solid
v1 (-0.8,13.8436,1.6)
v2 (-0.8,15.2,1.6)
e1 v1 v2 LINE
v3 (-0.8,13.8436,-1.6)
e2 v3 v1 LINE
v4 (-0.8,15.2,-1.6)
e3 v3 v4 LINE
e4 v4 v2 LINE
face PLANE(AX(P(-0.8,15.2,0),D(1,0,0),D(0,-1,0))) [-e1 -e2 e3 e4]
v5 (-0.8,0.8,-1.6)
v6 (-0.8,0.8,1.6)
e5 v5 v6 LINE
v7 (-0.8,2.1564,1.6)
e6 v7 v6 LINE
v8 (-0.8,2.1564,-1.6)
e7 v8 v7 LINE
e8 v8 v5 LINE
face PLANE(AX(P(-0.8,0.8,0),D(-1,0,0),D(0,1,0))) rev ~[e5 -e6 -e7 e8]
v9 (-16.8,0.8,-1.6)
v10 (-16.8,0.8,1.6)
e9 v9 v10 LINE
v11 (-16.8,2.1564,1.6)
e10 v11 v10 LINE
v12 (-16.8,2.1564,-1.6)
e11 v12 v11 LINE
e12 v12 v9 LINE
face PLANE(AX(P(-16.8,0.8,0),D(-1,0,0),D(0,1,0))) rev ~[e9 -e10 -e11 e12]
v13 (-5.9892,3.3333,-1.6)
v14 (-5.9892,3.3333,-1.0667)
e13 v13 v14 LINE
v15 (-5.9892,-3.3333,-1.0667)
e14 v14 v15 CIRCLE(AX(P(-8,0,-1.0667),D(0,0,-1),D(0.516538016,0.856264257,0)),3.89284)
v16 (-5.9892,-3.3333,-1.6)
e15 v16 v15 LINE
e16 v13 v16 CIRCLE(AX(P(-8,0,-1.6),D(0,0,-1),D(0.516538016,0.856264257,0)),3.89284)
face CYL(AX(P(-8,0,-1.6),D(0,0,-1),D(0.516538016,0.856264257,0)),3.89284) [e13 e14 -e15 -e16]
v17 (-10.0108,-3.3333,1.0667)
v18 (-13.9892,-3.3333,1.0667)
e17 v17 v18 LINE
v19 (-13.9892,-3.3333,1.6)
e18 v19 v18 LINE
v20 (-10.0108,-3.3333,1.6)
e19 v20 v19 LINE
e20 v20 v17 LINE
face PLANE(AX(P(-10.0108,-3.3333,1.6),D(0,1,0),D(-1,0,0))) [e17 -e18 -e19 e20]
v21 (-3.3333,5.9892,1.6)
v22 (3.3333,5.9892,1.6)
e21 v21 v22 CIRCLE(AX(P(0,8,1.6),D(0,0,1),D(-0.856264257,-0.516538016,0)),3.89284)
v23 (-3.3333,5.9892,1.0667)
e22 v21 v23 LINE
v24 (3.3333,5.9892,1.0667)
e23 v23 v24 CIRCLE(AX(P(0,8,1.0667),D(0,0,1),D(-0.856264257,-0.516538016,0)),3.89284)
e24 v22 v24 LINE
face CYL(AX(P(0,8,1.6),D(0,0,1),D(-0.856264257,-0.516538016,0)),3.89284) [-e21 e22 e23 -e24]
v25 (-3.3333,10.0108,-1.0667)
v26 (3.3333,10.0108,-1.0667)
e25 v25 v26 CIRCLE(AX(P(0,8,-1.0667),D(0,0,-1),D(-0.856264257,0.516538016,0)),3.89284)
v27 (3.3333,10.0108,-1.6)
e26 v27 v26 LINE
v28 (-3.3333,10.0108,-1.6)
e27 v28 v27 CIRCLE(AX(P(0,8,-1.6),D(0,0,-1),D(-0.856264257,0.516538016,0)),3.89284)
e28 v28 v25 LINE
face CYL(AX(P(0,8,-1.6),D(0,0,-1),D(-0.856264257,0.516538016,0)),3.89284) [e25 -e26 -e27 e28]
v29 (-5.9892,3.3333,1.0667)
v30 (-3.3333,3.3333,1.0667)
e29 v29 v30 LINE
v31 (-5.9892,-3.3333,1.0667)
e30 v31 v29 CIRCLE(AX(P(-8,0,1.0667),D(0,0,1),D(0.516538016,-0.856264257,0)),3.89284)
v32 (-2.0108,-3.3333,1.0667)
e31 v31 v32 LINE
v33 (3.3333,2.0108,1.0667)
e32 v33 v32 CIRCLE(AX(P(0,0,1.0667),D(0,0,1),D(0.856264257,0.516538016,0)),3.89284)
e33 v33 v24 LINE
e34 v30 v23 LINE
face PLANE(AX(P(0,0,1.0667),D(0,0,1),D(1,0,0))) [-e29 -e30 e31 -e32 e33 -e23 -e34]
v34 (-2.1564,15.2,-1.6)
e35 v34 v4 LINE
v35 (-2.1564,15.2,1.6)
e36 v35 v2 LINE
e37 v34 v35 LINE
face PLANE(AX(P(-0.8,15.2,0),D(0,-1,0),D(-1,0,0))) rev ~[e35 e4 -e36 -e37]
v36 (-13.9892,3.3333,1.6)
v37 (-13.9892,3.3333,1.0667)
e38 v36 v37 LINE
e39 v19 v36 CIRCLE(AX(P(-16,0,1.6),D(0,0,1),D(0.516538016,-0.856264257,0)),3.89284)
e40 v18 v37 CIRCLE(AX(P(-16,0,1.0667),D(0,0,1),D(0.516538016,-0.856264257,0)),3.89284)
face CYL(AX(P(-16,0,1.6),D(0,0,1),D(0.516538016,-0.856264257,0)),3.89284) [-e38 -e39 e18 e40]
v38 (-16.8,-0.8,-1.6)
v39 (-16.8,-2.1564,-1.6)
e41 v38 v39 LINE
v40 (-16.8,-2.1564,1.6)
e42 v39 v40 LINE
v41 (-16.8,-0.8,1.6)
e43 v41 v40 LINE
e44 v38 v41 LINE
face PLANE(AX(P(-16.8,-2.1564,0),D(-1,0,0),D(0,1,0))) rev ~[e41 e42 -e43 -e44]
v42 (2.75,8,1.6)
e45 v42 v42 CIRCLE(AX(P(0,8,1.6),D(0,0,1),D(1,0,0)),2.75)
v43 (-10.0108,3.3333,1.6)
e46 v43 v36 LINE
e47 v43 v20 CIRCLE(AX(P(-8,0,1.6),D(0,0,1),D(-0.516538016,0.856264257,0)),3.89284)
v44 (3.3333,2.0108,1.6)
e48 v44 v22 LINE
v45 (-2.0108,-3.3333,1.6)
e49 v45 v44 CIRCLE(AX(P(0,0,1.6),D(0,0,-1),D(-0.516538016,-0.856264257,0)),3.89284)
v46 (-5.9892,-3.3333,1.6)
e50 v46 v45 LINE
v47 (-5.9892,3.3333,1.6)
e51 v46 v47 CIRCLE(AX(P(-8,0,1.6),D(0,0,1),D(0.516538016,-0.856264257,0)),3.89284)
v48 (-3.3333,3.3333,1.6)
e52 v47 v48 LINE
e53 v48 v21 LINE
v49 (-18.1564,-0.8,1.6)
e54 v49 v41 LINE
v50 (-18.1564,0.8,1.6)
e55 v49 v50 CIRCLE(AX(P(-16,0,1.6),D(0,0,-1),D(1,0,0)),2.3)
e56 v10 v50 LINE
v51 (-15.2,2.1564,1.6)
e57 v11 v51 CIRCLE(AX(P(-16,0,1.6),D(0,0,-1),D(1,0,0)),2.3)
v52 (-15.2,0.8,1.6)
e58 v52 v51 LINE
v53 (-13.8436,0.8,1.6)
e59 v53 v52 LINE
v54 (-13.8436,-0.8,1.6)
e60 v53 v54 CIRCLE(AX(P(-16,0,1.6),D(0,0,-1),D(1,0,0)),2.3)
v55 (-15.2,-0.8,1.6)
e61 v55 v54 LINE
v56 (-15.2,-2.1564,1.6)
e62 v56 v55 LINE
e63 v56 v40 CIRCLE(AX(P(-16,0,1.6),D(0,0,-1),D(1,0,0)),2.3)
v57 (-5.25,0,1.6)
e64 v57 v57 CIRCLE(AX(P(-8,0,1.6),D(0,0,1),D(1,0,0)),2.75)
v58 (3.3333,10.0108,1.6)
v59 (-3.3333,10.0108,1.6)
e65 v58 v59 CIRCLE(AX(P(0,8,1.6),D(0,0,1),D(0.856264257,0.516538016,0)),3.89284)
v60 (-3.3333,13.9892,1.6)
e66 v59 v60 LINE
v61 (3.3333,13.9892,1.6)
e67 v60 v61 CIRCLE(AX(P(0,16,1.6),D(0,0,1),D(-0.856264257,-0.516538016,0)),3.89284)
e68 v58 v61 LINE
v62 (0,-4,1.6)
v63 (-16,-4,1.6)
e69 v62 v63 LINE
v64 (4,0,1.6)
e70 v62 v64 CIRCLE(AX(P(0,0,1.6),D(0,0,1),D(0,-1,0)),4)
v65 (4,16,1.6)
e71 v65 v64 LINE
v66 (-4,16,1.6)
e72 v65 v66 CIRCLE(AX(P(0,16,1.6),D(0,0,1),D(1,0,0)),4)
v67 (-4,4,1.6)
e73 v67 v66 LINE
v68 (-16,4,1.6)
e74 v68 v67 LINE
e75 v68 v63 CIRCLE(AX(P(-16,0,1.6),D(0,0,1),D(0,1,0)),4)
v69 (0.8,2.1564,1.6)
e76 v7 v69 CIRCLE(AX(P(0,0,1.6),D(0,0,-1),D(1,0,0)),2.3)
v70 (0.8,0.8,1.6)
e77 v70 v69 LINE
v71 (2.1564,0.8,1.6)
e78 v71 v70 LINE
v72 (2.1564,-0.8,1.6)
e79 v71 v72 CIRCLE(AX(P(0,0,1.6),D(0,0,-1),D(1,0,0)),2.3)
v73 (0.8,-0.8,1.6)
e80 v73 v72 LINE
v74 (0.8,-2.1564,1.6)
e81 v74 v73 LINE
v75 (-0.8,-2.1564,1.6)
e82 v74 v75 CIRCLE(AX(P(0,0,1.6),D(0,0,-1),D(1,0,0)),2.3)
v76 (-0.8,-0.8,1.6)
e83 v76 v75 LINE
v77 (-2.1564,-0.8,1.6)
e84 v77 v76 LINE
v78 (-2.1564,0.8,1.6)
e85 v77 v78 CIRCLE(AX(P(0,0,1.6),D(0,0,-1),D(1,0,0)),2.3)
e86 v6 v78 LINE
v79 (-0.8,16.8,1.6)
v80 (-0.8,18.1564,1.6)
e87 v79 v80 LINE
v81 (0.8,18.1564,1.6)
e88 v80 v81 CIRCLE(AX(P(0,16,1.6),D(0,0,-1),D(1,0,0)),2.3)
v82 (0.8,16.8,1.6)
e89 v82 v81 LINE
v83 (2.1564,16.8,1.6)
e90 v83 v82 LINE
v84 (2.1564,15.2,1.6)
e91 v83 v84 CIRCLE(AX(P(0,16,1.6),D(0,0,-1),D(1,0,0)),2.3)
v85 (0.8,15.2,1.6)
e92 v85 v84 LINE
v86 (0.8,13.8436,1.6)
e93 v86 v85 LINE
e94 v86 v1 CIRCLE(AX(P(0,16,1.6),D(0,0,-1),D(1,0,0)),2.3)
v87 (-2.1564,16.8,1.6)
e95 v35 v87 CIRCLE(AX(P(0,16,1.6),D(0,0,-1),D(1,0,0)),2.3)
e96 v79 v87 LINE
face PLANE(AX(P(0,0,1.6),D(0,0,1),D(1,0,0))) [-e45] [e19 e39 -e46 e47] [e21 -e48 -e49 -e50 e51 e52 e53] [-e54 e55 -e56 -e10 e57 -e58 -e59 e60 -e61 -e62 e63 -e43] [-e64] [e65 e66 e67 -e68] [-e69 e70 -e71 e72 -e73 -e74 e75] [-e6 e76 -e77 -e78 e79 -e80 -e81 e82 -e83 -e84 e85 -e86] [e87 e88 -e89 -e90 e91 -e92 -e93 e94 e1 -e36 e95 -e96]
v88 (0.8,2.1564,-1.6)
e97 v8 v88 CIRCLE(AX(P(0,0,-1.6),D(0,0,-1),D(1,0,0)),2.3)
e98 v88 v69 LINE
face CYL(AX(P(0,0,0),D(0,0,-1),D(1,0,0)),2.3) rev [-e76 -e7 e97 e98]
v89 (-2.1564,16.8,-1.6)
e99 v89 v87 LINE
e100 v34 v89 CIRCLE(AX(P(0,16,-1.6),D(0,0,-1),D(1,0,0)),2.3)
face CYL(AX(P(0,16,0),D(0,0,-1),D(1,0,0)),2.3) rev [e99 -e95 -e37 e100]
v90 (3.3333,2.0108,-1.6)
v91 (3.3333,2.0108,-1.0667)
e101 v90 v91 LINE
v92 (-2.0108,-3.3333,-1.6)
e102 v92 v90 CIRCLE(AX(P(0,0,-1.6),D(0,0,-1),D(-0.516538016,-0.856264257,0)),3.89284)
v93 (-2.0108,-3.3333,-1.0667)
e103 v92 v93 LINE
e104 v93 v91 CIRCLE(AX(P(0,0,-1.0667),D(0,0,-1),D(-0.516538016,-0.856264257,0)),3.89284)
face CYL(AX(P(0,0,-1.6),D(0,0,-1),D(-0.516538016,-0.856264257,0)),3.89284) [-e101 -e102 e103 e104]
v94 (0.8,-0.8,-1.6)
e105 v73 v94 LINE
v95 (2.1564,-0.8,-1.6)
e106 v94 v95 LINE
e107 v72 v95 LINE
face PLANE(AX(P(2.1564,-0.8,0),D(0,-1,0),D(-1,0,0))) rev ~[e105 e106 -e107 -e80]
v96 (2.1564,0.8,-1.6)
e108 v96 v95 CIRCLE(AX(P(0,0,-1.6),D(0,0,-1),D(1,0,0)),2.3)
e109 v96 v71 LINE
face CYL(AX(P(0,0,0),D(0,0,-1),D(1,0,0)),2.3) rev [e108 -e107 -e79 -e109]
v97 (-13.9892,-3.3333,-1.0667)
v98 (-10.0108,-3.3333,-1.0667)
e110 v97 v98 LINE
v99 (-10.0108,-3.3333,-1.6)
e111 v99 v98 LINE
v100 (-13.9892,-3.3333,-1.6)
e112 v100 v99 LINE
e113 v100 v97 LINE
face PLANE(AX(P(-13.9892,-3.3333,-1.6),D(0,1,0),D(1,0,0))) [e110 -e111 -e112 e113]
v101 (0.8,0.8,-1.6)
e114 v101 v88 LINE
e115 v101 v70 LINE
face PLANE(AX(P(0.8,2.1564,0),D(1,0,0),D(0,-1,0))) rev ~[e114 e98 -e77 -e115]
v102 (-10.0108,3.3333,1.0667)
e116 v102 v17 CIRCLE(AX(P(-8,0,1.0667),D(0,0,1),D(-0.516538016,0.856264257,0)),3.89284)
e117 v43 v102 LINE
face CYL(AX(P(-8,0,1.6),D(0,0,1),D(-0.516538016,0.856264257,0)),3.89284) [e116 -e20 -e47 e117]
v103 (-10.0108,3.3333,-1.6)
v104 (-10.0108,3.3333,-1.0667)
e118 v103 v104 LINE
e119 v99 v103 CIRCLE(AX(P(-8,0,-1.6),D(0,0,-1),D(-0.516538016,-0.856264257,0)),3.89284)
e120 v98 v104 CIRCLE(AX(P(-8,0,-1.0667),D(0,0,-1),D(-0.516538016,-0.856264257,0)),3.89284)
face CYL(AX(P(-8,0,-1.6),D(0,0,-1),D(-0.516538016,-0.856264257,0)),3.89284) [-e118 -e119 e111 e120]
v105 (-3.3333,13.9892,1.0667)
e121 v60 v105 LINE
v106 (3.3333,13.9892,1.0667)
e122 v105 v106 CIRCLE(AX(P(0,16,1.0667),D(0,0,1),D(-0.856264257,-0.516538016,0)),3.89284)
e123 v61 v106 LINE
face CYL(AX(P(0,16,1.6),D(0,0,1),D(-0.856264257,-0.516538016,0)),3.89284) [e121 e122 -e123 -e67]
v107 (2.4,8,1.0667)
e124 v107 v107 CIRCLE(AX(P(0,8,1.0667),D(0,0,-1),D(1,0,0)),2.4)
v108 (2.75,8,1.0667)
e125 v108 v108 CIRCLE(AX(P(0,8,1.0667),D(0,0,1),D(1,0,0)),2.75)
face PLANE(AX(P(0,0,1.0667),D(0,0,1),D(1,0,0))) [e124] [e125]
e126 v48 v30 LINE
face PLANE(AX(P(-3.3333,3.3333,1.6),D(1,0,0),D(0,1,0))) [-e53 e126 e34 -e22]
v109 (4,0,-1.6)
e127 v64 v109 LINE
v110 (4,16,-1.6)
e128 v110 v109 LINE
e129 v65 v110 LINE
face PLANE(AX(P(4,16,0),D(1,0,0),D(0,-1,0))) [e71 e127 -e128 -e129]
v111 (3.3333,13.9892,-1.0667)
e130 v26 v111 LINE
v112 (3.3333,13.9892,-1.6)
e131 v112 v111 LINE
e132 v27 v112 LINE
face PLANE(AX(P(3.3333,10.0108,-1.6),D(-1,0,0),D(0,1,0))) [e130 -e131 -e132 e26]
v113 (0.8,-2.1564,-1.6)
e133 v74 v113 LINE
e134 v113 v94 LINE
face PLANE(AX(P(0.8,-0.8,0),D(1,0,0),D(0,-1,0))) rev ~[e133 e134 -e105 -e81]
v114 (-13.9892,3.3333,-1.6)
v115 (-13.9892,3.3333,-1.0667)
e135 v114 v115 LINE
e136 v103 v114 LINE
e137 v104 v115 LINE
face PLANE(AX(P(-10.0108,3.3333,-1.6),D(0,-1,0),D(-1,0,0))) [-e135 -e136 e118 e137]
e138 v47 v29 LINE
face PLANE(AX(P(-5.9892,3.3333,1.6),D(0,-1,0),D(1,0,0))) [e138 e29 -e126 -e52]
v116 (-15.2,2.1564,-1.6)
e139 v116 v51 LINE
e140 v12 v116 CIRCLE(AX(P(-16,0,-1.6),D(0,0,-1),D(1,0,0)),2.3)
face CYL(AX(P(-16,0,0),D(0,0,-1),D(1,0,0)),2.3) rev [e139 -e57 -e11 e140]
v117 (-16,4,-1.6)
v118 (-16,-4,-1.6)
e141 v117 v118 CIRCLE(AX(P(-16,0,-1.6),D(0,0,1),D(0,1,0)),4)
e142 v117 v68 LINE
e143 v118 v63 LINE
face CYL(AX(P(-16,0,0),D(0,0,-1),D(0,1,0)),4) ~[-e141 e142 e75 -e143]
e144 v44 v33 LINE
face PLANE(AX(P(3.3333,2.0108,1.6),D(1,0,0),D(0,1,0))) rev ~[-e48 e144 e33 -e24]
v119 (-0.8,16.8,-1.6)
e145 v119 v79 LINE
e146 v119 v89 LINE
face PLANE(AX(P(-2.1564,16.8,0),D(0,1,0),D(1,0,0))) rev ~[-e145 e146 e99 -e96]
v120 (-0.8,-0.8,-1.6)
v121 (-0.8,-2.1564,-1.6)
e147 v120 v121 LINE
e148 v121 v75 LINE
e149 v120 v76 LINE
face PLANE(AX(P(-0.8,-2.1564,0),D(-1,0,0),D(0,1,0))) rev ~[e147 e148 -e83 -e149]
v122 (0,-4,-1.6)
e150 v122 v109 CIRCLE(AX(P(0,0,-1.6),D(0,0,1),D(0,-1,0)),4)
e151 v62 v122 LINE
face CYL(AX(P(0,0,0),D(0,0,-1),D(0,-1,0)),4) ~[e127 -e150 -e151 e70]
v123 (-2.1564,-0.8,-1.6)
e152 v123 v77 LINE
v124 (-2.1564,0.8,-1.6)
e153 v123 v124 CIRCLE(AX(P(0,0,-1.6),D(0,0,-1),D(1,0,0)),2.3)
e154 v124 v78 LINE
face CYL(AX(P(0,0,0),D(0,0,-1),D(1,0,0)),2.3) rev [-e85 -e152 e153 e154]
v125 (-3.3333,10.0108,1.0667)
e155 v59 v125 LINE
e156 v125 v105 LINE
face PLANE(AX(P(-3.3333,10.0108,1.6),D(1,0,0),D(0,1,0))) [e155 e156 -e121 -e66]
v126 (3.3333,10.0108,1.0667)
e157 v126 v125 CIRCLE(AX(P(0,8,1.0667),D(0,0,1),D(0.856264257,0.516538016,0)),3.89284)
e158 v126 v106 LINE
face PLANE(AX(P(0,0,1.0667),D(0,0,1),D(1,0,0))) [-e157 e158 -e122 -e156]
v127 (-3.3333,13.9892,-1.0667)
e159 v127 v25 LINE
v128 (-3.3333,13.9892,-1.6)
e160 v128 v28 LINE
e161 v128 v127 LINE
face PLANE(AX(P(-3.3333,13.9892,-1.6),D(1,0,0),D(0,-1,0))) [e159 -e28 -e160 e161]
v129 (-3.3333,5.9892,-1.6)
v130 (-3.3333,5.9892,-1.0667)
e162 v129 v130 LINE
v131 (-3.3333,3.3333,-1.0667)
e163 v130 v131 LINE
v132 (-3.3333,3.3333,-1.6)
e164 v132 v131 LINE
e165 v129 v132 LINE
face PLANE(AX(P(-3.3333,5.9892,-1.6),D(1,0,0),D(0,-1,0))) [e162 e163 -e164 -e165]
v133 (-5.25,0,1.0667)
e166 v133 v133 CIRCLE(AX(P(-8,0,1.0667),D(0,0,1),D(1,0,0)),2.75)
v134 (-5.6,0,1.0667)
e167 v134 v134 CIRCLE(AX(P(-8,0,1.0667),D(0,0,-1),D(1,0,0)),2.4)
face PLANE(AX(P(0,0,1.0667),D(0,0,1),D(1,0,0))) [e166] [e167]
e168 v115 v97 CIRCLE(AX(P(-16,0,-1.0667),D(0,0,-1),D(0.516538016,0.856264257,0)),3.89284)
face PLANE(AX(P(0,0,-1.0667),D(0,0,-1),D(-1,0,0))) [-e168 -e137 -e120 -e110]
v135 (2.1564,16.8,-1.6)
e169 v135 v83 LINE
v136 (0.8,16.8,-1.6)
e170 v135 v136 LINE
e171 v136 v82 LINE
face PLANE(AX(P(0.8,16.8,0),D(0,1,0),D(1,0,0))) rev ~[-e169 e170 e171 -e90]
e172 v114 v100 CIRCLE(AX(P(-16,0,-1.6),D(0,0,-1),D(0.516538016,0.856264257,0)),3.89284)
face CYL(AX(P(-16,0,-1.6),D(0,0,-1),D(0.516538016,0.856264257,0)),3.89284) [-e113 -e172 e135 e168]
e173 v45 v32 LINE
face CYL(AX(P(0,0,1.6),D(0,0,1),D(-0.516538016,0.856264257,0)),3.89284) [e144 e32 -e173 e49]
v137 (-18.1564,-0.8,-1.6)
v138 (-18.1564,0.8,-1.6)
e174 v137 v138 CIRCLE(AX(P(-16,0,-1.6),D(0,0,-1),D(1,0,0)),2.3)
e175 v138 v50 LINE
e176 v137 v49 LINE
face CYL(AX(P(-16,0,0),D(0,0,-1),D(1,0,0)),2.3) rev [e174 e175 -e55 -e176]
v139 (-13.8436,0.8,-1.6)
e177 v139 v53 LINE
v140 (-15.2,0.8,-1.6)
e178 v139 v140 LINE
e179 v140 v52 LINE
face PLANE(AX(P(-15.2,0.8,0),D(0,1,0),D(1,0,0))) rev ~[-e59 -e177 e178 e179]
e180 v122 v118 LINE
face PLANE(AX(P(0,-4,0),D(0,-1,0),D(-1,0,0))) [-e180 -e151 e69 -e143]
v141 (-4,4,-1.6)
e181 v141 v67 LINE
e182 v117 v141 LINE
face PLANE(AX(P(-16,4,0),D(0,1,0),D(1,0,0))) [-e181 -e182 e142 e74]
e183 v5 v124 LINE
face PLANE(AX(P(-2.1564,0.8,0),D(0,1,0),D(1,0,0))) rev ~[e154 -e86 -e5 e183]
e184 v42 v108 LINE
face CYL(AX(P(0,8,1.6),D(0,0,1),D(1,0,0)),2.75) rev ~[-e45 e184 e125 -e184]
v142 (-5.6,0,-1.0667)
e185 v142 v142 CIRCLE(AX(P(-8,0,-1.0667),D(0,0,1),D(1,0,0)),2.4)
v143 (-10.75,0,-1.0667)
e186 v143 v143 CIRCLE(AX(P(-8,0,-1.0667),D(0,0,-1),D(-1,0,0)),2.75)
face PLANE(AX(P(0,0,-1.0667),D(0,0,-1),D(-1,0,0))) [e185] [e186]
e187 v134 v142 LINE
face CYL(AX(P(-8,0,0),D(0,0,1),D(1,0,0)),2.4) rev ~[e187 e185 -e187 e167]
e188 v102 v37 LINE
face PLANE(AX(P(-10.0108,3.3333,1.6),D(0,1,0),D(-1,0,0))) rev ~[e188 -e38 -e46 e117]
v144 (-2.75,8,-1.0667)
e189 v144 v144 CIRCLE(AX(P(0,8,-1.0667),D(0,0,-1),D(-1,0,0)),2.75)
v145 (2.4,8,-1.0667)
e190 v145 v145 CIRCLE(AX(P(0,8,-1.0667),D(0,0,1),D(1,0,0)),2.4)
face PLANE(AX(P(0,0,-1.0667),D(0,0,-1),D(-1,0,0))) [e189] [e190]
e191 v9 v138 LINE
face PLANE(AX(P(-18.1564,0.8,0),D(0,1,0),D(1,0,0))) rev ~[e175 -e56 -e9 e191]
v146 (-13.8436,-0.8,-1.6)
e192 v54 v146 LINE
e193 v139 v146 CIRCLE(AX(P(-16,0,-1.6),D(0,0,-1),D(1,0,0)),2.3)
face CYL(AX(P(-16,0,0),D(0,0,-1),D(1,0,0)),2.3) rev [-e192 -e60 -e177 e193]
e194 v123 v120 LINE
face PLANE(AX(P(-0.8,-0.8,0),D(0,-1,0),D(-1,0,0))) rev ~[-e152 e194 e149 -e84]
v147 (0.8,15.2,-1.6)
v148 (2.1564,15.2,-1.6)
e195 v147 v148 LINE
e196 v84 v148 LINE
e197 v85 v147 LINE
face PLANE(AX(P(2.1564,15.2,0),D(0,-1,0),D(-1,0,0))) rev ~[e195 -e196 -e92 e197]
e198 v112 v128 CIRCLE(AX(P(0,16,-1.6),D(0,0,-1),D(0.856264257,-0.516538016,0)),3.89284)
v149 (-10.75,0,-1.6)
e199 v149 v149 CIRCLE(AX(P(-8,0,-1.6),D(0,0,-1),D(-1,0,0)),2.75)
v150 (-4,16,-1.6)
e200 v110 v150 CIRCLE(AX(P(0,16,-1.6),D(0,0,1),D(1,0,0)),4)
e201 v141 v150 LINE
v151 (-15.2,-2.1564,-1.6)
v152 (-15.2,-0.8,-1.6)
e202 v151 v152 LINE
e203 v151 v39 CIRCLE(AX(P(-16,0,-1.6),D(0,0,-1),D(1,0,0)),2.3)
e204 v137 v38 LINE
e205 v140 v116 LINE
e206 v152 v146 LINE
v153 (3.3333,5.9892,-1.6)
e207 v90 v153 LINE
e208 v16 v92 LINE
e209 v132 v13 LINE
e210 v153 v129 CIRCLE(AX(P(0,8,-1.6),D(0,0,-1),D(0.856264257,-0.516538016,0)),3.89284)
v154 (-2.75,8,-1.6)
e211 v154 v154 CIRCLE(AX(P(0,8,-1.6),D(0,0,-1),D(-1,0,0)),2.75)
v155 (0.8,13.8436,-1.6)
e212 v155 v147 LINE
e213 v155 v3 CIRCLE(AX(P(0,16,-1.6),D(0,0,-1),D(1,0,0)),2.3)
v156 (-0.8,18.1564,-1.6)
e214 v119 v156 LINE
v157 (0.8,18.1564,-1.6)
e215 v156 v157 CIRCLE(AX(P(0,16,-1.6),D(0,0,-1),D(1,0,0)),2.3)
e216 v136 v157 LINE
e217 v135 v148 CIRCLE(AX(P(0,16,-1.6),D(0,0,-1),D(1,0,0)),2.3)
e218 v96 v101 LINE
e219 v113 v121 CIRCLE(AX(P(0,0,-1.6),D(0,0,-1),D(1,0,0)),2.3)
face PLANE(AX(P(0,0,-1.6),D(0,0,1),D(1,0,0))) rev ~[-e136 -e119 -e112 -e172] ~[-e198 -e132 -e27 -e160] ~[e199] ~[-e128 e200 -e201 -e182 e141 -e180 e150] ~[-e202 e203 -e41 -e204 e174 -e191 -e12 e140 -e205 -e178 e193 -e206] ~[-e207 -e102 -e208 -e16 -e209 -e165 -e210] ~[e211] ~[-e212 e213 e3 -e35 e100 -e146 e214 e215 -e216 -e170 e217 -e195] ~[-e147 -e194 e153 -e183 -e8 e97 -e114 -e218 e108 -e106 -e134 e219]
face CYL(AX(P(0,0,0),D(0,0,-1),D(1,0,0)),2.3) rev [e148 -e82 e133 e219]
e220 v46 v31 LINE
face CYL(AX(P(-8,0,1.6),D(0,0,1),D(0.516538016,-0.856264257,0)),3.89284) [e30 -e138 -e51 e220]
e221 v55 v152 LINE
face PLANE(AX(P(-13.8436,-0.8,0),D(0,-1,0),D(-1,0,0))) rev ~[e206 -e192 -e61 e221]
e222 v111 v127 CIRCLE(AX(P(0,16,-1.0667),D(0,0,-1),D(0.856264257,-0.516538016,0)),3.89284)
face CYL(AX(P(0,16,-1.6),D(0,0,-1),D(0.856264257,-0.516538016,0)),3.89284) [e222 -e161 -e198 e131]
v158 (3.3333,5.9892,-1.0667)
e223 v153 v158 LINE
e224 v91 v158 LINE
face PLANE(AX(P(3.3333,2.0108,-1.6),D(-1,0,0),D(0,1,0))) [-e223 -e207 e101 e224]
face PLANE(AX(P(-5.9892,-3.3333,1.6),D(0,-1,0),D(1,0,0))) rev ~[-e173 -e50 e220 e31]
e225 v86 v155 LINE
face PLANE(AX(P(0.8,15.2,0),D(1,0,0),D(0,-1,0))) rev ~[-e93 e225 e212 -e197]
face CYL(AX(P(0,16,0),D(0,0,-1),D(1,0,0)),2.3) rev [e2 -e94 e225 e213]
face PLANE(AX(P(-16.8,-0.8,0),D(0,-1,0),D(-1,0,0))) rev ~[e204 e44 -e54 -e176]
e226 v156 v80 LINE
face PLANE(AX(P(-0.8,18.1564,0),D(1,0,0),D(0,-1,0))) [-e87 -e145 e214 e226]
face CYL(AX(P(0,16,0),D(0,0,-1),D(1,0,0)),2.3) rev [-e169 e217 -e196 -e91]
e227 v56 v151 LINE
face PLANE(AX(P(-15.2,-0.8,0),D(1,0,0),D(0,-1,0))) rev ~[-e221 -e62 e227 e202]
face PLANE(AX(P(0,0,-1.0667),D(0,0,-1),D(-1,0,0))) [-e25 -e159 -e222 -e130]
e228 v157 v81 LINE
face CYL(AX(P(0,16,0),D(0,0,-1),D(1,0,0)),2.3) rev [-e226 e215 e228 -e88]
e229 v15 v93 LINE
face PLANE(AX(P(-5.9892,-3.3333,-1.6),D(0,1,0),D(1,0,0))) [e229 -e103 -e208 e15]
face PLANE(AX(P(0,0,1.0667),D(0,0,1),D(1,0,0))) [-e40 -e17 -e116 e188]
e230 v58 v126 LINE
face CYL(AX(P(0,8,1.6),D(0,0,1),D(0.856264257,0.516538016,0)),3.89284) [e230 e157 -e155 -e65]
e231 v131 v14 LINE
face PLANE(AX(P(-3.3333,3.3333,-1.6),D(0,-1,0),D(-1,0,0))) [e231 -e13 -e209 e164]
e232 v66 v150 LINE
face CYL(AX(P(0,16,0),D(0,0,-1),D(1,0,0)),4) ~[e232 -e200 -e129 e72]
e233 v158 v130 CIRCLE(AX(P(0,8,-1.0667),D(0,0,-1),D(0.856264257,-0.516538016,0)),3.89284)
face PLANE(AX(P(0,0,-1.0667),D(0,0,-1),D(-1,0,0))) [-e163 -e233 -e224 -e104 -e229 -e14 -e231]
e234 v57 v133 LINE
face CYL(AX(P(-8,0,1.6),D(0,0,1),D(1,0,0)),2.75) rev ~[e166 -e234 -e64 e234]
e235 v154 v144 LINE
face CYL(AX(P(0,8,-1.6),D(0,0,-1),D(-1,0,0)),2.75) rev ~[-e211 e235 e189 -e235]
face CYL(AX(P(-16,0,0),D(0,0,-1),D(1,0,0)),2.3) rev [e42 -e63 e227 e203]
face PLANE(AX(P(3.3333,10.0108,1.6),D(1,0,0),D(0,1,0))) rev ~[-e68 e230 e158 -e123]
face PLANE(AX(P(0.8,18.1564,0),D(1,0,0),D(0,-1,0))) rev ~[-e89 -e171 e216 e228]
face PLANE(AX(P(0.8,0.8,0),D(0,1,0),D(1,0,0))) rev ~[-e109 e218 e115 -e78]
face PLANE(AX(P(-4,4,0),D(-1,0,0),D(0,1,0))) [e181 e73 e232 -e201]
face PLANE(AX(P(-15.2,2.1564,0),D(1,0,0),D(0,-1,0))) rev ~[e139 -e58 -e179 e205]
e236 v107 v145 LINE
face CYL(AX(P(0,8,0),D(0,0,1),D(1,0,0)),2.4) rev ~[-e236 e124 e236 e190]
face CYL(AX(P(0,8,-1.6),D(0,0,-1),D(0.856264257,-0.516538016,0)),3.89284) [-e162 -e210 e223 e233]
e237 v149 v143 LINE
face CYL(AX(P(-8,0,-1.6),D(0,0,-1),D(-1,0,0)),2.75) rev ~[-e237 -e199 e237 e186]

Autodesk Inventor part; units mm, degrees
ref_plane "YZ Plane" through (0, 0, 0) normal (1, 0, 0) x (0, 1, 0)
ref_plane "XZ Plane" through (0, 0, 0) normal (0, 1, 0) x (-1, 0, 0)
ref_plane "XY Plane" through (0, 0, 0) normal (0, 0, 1) x (1, 0, 0)
sketch "Sketch1" plane through (0, 0, 0) normal (0, 0, 1) x (1, 0, 0)
  line L0 (0, -9.7941) -> (0, 24.9657) construction
  line L1 (-24.9657, 0) -> (9.7941, 0) construction
  line L2 (-4, 4) -> (-4, 16)
  arc A0 (4, 16) -> (-4, 16) centre (0, 16) ccw
  line L3 (4, 16) -> (4, 0)
  arc A1 (0, -4) -> (4, 0) centre (0, 0) ccw
  line L4 (0, -4) -> (-16, -4)
  arc A2 (-16, 4) -> (-16, -4) centre (-16, 0) ccw
  line L5 (-16, 4) -> (-4, 4)
  dimension "d38" = 8
  dimension "d39" = 24
sketch "Sketch6" plane through (0, 0, 0) normal (0, 0, 1) x (1, 0, 0)
  circle A0 centre (-16, 0) radius 2.3
  circle A1 centre (0, 16) radius 2.3
  line L0 (-18.1564, 0.8) -> (-16.8, 0.8)
  line L1 (-16.8, 0.8) -> (-16.8, 2.1564)
  line L2 (-15.2, 2.1564) -> (-15.2, 0.8)
  line L3 (-15.2, 0.8) -> (-13.8436, 0.8)
  line L4 (-13.8436, -0.8) -> (-15.2, -0.8)
  line L5 (-15.2, -0.8) -> (-15.2, -2.1564)
  line L6 (-16.8, -2.1564) -> (-16.8, -0.8)
  line L7 (-16.8, -0.8) -> (-18.1564, -0.8)
  line L8 (-2.1564, 16.8) -> (-0.8, 16.8)
  line L9 (0.8, 16.8) -> (2.1564, 16.8)
  line L10 (0.8, 18.1564) -> (0.8, 16.8)
  line L11 (0.8, 15.2) -> (0.8, 13.8436)
  line L12 (-0.8, 18.1564) -> (-0.8, 16.8)
  line L13 (-0.8, 15.2) -> (-0.8, 13.8436)
  line L14 (2.1564, 15.2) -> (0.8, 15.2)
  line L15 (-0.8, 15.2) -> (-2.1564, 15.2)
  arc A2 (0, -4) -> (4, 0) centre (0, 0) ccw construction
  arc A3 (4, 16) -> (-4, 16) centre (0, 16) ccw construction
  arc A4 (-16, 4) -> (-16, -4) centre (-16, 0) ccw construction
  circle A5 centre (0, 0) radius 2.3
  line L16 (-2.1564, 0.8) -> (-0.8, 0.8)
  line L17 (-0.8, 0.8) -> (-0.8, 2.1564)
  line L18 (0.8, 2.1564) -> (0.8, 0.8)
  line L19 (0.8, 0.8) -> (2.1564, 0.8)
  line L20 (2.1564, -0.8) -> (0.8, -0.8)
  line L21 (0.8, -0.8) -> (0.8, -2.1564)
  line L22 (-0.8, -2.1564) -> (-0.8, -0.8)
  line L23 (-0.8, -0.8) -> (-2.1564, -0.8)
  circle A6 centre (0, 0) radius 2.75
  circle A7 centre (-16, 0) radius 2.75
  circle A8 centre (0, 16) radius 2.75
  dimension "d40" = 4.6
  dimension "d41" = 1.6
  dimension "d50" = 5.5
sketch "Sketch8" plane through (0, 0, 0) normal (0, 0, 1) x (1, 0, 0)
  arc A0 (0, -4) -> (4, 0) centre (0, 0) ccw construction
  line L0 (0, -8.9941) -> (0, 20.1657) construction
  line L1 (-20.1657, 0) -> (8.9941, 0) construction
  circle A1 centre (0, 8) radius 2.4
  circle A2 centre (-8, 0) radius 2.4
  circle A3 centre (0, 8) radius 2.75
  circle A4 centre (-8, 0) radius 2.75
  line L2 (0, -4) -> (-16, -4) construction
  line L3 (4, 16) -> (4, 0) construction
  point P0 (4, 8)
  point P1 (-8, -4)
  dimension "d42" = 4.8
  dimension "d43" = 5.5
extrude "Extrusion1" add sketch "Sketch1" along normal mid plane 3.2
extrude "Extrusion9" cut sketch "Sketch6" along normal through all both and the other way through all contours A0 L4 L5 L6 L7 L0 L1 L2 L3 | A1 L14 L11 L13 L15 L8 L12 L10 L9 | A5 L20 L21 L22 L23 L16 L17 L18 L19
extrude "Extrusion10" cut sketch "Sketch8" along normal through all both and the other way through all contours A1 | A2
sketch "Sketch3" plane through (0, 0, 1.6) normal (0, 0, 1) x (1, 0, 0)
  circle A0 centre (-8, 0) radius 2.75 projected
  circle A1 centre (0, 8) radius 2.75 projected
extrude "Extrusion4" cut sketch "Sketch3" against normal blind 0.5333
sketch "Sketch9" plane through (0, 0, -1.6) normal (0, 0, -1) x (-1, 0, 0)
  circle A0 centre (8, 0) radius 2.75 projected
  circle A1 centre (0, 8) radius 2.75 projected
extrude "Extrusion11" cut sketch "Sketch9" against normal blind 0.5333
sketch "Sketch4" plane through (0, 0, 1.6) normal (0, 0, 1) x (1, 0, 0)
  circle A0 centre (-16, 0) radius 2.3 construction
  circle A1 centre (0, 16) radius 2.3 construction
  arc A2 (-5.9892, -3.3333) -> (-5.9892, 3.3333) centre (-8, 0) ccw
  line L0 (-5.9892, 3.3333) -> (-2.0108, 3.3333)
  line L1 (-5.9892, -3.3333) -> (-2.0108, -3.3333)
  arc A3 (-2.0108, 3.3333) -> (-2.0108, -3.3333) centre (0, 0) ccw
  circle A4 centre (0, 0) radius 2.75 construction
  circle A5 centre (0, 16) radius 2.75 construction
  circle A6 centre (-16, 0) radius 2.75 construction
  line L2 (0, -9.5229) -> (0, 24.9205) construction
  line L3 (-25.4536, 0) -> (12.7217, 0) construction
  circle A7 centre (-8, 0) radius 2.75 construction
  circle A8 centre (0, 8) radius 2.75 construction
  arc A9 (-10.0108, 3.3333) -> (-10.0108, -3.3333) centre (-8, 0) ccw
  arc A10 (-13.9892, -3.3333) -> (-13.9892, 3.3333) centre (-16, 0) ccw
  line L4 (-10.0108, -3.3333) -> (-13.9892, -3.3333)
  line L5 (-10.0108, 3.3333) -> (-13.9892, 3.3333)
  arc A11 (3.3333, 2.0108) -> (-3.3333, 2.0108) centre (0, 0) ccw
  arc A12 (-3.3333, 5.9892) -> (3.3333, 5.9892) centre (0, 8) ccw
  line L6 (3.3333, 2.0108) -> (3.3333, 5.9892)
  line L7 (-3.3333, 2.0108) -> (-3.3333, 5.9892)
  line L8 (3.3333, 10.0108) -> (3.3333, 13.9892)
  line L9 (-3.3333, 10.0108) -> (-3.3333, 13.9892)
  arc A13 (-3.3333, 13.9892) -> (3.3333, 13.9892) centre (0, 16) ccw
  arc A14 (3.3333, 10.0108) -> (-3.3333, 10.0108) centre (0, 8) ccw
  dimension "d33" = 6.6667
  dimension "d51" = 1.1429
  dimension "d52" = 6.6667
extrude "Extrusion5" cut sketch "Sketch4" against normal blind 0.5333
sketch "Sketch10" plane through (0, 0, -1.6) normal (0, 0, -1) x (-1, 0, 0)
  arc A0 (-3.3333, 13.9892) -> (3.3333, 13.9892) centre (0, 16) ccw projected
  line L0 (3.3333, 13.9892) -> (3.3333, 10.0108) projected
  arc A1 (3.3333, 10.0108) -> (-3.3333, 10.0108) centre (0, 8) ccw projected
  line L1 (-3.3333, 10.0108) -> (-3.3333, 13.9892) projected
  arc A2 (2.0108, -3.3333) -> (-3.3333, 2.0108) centre (0, 0) ccw projected
  line L2 (-3.3333, 2.0108) -> (-3.3333, 5.9892) projected
  arc A3 (-3.3333, 5.9892) -> (3.3333, 5.9892) centre (0, 8) ccw projected
  line L3 (3.3333, 5.9892) -> (3.3333, 3.3333) projected
  line L4 (3.3333, 3.3333) -> (5.9892, 3.3333) projected
  arc A4 (5.9892, 3.3333) -> (5.9892, -3.3333) centre (8, 0) ccw projected
  line L5 (5.9892, -3.3333) -> (2.0108, -3.3333) projected
  line L6 (10.0108, 3.3333) -> (13.9892, 3.3333) projected
  arc A5 (13.9892, 3.3333) -> (13.9892, -3.3333) centre (16, 0) ccw projected
  line L7 (13.9892, -3.3333) -> (10.0108, -3.3333) projected
  arc A6 (10.0108, -3.3333) -> (10.0108, 3.3333) centre (8, 0) ccw projected
extrude "Extrusion12" cut sketch "Sketch10" against normal blind 0.5333
equation "\"d38\" = width_standard"
equation "\"d2\" = 0.333333 * height_standard"
equation "\"d15\" = 0.0555556 * height_standard"
equation "\"d48\" = 0.0555556 * height_standard"
equation "\"d33\" = 0.833333 * width_standard"
equation "\"d52\" = 0.833333 * width_standard"
equation "\"d20\" = 0.0555556 * height_standard"
equation "\"d53\" = 0.0555556 * height_standard"
equation "\"width_standard\" = 8"
equation "\"height_standard\" = 9.6"
properties part number "LEGO Brick 32017" material "Steel"
